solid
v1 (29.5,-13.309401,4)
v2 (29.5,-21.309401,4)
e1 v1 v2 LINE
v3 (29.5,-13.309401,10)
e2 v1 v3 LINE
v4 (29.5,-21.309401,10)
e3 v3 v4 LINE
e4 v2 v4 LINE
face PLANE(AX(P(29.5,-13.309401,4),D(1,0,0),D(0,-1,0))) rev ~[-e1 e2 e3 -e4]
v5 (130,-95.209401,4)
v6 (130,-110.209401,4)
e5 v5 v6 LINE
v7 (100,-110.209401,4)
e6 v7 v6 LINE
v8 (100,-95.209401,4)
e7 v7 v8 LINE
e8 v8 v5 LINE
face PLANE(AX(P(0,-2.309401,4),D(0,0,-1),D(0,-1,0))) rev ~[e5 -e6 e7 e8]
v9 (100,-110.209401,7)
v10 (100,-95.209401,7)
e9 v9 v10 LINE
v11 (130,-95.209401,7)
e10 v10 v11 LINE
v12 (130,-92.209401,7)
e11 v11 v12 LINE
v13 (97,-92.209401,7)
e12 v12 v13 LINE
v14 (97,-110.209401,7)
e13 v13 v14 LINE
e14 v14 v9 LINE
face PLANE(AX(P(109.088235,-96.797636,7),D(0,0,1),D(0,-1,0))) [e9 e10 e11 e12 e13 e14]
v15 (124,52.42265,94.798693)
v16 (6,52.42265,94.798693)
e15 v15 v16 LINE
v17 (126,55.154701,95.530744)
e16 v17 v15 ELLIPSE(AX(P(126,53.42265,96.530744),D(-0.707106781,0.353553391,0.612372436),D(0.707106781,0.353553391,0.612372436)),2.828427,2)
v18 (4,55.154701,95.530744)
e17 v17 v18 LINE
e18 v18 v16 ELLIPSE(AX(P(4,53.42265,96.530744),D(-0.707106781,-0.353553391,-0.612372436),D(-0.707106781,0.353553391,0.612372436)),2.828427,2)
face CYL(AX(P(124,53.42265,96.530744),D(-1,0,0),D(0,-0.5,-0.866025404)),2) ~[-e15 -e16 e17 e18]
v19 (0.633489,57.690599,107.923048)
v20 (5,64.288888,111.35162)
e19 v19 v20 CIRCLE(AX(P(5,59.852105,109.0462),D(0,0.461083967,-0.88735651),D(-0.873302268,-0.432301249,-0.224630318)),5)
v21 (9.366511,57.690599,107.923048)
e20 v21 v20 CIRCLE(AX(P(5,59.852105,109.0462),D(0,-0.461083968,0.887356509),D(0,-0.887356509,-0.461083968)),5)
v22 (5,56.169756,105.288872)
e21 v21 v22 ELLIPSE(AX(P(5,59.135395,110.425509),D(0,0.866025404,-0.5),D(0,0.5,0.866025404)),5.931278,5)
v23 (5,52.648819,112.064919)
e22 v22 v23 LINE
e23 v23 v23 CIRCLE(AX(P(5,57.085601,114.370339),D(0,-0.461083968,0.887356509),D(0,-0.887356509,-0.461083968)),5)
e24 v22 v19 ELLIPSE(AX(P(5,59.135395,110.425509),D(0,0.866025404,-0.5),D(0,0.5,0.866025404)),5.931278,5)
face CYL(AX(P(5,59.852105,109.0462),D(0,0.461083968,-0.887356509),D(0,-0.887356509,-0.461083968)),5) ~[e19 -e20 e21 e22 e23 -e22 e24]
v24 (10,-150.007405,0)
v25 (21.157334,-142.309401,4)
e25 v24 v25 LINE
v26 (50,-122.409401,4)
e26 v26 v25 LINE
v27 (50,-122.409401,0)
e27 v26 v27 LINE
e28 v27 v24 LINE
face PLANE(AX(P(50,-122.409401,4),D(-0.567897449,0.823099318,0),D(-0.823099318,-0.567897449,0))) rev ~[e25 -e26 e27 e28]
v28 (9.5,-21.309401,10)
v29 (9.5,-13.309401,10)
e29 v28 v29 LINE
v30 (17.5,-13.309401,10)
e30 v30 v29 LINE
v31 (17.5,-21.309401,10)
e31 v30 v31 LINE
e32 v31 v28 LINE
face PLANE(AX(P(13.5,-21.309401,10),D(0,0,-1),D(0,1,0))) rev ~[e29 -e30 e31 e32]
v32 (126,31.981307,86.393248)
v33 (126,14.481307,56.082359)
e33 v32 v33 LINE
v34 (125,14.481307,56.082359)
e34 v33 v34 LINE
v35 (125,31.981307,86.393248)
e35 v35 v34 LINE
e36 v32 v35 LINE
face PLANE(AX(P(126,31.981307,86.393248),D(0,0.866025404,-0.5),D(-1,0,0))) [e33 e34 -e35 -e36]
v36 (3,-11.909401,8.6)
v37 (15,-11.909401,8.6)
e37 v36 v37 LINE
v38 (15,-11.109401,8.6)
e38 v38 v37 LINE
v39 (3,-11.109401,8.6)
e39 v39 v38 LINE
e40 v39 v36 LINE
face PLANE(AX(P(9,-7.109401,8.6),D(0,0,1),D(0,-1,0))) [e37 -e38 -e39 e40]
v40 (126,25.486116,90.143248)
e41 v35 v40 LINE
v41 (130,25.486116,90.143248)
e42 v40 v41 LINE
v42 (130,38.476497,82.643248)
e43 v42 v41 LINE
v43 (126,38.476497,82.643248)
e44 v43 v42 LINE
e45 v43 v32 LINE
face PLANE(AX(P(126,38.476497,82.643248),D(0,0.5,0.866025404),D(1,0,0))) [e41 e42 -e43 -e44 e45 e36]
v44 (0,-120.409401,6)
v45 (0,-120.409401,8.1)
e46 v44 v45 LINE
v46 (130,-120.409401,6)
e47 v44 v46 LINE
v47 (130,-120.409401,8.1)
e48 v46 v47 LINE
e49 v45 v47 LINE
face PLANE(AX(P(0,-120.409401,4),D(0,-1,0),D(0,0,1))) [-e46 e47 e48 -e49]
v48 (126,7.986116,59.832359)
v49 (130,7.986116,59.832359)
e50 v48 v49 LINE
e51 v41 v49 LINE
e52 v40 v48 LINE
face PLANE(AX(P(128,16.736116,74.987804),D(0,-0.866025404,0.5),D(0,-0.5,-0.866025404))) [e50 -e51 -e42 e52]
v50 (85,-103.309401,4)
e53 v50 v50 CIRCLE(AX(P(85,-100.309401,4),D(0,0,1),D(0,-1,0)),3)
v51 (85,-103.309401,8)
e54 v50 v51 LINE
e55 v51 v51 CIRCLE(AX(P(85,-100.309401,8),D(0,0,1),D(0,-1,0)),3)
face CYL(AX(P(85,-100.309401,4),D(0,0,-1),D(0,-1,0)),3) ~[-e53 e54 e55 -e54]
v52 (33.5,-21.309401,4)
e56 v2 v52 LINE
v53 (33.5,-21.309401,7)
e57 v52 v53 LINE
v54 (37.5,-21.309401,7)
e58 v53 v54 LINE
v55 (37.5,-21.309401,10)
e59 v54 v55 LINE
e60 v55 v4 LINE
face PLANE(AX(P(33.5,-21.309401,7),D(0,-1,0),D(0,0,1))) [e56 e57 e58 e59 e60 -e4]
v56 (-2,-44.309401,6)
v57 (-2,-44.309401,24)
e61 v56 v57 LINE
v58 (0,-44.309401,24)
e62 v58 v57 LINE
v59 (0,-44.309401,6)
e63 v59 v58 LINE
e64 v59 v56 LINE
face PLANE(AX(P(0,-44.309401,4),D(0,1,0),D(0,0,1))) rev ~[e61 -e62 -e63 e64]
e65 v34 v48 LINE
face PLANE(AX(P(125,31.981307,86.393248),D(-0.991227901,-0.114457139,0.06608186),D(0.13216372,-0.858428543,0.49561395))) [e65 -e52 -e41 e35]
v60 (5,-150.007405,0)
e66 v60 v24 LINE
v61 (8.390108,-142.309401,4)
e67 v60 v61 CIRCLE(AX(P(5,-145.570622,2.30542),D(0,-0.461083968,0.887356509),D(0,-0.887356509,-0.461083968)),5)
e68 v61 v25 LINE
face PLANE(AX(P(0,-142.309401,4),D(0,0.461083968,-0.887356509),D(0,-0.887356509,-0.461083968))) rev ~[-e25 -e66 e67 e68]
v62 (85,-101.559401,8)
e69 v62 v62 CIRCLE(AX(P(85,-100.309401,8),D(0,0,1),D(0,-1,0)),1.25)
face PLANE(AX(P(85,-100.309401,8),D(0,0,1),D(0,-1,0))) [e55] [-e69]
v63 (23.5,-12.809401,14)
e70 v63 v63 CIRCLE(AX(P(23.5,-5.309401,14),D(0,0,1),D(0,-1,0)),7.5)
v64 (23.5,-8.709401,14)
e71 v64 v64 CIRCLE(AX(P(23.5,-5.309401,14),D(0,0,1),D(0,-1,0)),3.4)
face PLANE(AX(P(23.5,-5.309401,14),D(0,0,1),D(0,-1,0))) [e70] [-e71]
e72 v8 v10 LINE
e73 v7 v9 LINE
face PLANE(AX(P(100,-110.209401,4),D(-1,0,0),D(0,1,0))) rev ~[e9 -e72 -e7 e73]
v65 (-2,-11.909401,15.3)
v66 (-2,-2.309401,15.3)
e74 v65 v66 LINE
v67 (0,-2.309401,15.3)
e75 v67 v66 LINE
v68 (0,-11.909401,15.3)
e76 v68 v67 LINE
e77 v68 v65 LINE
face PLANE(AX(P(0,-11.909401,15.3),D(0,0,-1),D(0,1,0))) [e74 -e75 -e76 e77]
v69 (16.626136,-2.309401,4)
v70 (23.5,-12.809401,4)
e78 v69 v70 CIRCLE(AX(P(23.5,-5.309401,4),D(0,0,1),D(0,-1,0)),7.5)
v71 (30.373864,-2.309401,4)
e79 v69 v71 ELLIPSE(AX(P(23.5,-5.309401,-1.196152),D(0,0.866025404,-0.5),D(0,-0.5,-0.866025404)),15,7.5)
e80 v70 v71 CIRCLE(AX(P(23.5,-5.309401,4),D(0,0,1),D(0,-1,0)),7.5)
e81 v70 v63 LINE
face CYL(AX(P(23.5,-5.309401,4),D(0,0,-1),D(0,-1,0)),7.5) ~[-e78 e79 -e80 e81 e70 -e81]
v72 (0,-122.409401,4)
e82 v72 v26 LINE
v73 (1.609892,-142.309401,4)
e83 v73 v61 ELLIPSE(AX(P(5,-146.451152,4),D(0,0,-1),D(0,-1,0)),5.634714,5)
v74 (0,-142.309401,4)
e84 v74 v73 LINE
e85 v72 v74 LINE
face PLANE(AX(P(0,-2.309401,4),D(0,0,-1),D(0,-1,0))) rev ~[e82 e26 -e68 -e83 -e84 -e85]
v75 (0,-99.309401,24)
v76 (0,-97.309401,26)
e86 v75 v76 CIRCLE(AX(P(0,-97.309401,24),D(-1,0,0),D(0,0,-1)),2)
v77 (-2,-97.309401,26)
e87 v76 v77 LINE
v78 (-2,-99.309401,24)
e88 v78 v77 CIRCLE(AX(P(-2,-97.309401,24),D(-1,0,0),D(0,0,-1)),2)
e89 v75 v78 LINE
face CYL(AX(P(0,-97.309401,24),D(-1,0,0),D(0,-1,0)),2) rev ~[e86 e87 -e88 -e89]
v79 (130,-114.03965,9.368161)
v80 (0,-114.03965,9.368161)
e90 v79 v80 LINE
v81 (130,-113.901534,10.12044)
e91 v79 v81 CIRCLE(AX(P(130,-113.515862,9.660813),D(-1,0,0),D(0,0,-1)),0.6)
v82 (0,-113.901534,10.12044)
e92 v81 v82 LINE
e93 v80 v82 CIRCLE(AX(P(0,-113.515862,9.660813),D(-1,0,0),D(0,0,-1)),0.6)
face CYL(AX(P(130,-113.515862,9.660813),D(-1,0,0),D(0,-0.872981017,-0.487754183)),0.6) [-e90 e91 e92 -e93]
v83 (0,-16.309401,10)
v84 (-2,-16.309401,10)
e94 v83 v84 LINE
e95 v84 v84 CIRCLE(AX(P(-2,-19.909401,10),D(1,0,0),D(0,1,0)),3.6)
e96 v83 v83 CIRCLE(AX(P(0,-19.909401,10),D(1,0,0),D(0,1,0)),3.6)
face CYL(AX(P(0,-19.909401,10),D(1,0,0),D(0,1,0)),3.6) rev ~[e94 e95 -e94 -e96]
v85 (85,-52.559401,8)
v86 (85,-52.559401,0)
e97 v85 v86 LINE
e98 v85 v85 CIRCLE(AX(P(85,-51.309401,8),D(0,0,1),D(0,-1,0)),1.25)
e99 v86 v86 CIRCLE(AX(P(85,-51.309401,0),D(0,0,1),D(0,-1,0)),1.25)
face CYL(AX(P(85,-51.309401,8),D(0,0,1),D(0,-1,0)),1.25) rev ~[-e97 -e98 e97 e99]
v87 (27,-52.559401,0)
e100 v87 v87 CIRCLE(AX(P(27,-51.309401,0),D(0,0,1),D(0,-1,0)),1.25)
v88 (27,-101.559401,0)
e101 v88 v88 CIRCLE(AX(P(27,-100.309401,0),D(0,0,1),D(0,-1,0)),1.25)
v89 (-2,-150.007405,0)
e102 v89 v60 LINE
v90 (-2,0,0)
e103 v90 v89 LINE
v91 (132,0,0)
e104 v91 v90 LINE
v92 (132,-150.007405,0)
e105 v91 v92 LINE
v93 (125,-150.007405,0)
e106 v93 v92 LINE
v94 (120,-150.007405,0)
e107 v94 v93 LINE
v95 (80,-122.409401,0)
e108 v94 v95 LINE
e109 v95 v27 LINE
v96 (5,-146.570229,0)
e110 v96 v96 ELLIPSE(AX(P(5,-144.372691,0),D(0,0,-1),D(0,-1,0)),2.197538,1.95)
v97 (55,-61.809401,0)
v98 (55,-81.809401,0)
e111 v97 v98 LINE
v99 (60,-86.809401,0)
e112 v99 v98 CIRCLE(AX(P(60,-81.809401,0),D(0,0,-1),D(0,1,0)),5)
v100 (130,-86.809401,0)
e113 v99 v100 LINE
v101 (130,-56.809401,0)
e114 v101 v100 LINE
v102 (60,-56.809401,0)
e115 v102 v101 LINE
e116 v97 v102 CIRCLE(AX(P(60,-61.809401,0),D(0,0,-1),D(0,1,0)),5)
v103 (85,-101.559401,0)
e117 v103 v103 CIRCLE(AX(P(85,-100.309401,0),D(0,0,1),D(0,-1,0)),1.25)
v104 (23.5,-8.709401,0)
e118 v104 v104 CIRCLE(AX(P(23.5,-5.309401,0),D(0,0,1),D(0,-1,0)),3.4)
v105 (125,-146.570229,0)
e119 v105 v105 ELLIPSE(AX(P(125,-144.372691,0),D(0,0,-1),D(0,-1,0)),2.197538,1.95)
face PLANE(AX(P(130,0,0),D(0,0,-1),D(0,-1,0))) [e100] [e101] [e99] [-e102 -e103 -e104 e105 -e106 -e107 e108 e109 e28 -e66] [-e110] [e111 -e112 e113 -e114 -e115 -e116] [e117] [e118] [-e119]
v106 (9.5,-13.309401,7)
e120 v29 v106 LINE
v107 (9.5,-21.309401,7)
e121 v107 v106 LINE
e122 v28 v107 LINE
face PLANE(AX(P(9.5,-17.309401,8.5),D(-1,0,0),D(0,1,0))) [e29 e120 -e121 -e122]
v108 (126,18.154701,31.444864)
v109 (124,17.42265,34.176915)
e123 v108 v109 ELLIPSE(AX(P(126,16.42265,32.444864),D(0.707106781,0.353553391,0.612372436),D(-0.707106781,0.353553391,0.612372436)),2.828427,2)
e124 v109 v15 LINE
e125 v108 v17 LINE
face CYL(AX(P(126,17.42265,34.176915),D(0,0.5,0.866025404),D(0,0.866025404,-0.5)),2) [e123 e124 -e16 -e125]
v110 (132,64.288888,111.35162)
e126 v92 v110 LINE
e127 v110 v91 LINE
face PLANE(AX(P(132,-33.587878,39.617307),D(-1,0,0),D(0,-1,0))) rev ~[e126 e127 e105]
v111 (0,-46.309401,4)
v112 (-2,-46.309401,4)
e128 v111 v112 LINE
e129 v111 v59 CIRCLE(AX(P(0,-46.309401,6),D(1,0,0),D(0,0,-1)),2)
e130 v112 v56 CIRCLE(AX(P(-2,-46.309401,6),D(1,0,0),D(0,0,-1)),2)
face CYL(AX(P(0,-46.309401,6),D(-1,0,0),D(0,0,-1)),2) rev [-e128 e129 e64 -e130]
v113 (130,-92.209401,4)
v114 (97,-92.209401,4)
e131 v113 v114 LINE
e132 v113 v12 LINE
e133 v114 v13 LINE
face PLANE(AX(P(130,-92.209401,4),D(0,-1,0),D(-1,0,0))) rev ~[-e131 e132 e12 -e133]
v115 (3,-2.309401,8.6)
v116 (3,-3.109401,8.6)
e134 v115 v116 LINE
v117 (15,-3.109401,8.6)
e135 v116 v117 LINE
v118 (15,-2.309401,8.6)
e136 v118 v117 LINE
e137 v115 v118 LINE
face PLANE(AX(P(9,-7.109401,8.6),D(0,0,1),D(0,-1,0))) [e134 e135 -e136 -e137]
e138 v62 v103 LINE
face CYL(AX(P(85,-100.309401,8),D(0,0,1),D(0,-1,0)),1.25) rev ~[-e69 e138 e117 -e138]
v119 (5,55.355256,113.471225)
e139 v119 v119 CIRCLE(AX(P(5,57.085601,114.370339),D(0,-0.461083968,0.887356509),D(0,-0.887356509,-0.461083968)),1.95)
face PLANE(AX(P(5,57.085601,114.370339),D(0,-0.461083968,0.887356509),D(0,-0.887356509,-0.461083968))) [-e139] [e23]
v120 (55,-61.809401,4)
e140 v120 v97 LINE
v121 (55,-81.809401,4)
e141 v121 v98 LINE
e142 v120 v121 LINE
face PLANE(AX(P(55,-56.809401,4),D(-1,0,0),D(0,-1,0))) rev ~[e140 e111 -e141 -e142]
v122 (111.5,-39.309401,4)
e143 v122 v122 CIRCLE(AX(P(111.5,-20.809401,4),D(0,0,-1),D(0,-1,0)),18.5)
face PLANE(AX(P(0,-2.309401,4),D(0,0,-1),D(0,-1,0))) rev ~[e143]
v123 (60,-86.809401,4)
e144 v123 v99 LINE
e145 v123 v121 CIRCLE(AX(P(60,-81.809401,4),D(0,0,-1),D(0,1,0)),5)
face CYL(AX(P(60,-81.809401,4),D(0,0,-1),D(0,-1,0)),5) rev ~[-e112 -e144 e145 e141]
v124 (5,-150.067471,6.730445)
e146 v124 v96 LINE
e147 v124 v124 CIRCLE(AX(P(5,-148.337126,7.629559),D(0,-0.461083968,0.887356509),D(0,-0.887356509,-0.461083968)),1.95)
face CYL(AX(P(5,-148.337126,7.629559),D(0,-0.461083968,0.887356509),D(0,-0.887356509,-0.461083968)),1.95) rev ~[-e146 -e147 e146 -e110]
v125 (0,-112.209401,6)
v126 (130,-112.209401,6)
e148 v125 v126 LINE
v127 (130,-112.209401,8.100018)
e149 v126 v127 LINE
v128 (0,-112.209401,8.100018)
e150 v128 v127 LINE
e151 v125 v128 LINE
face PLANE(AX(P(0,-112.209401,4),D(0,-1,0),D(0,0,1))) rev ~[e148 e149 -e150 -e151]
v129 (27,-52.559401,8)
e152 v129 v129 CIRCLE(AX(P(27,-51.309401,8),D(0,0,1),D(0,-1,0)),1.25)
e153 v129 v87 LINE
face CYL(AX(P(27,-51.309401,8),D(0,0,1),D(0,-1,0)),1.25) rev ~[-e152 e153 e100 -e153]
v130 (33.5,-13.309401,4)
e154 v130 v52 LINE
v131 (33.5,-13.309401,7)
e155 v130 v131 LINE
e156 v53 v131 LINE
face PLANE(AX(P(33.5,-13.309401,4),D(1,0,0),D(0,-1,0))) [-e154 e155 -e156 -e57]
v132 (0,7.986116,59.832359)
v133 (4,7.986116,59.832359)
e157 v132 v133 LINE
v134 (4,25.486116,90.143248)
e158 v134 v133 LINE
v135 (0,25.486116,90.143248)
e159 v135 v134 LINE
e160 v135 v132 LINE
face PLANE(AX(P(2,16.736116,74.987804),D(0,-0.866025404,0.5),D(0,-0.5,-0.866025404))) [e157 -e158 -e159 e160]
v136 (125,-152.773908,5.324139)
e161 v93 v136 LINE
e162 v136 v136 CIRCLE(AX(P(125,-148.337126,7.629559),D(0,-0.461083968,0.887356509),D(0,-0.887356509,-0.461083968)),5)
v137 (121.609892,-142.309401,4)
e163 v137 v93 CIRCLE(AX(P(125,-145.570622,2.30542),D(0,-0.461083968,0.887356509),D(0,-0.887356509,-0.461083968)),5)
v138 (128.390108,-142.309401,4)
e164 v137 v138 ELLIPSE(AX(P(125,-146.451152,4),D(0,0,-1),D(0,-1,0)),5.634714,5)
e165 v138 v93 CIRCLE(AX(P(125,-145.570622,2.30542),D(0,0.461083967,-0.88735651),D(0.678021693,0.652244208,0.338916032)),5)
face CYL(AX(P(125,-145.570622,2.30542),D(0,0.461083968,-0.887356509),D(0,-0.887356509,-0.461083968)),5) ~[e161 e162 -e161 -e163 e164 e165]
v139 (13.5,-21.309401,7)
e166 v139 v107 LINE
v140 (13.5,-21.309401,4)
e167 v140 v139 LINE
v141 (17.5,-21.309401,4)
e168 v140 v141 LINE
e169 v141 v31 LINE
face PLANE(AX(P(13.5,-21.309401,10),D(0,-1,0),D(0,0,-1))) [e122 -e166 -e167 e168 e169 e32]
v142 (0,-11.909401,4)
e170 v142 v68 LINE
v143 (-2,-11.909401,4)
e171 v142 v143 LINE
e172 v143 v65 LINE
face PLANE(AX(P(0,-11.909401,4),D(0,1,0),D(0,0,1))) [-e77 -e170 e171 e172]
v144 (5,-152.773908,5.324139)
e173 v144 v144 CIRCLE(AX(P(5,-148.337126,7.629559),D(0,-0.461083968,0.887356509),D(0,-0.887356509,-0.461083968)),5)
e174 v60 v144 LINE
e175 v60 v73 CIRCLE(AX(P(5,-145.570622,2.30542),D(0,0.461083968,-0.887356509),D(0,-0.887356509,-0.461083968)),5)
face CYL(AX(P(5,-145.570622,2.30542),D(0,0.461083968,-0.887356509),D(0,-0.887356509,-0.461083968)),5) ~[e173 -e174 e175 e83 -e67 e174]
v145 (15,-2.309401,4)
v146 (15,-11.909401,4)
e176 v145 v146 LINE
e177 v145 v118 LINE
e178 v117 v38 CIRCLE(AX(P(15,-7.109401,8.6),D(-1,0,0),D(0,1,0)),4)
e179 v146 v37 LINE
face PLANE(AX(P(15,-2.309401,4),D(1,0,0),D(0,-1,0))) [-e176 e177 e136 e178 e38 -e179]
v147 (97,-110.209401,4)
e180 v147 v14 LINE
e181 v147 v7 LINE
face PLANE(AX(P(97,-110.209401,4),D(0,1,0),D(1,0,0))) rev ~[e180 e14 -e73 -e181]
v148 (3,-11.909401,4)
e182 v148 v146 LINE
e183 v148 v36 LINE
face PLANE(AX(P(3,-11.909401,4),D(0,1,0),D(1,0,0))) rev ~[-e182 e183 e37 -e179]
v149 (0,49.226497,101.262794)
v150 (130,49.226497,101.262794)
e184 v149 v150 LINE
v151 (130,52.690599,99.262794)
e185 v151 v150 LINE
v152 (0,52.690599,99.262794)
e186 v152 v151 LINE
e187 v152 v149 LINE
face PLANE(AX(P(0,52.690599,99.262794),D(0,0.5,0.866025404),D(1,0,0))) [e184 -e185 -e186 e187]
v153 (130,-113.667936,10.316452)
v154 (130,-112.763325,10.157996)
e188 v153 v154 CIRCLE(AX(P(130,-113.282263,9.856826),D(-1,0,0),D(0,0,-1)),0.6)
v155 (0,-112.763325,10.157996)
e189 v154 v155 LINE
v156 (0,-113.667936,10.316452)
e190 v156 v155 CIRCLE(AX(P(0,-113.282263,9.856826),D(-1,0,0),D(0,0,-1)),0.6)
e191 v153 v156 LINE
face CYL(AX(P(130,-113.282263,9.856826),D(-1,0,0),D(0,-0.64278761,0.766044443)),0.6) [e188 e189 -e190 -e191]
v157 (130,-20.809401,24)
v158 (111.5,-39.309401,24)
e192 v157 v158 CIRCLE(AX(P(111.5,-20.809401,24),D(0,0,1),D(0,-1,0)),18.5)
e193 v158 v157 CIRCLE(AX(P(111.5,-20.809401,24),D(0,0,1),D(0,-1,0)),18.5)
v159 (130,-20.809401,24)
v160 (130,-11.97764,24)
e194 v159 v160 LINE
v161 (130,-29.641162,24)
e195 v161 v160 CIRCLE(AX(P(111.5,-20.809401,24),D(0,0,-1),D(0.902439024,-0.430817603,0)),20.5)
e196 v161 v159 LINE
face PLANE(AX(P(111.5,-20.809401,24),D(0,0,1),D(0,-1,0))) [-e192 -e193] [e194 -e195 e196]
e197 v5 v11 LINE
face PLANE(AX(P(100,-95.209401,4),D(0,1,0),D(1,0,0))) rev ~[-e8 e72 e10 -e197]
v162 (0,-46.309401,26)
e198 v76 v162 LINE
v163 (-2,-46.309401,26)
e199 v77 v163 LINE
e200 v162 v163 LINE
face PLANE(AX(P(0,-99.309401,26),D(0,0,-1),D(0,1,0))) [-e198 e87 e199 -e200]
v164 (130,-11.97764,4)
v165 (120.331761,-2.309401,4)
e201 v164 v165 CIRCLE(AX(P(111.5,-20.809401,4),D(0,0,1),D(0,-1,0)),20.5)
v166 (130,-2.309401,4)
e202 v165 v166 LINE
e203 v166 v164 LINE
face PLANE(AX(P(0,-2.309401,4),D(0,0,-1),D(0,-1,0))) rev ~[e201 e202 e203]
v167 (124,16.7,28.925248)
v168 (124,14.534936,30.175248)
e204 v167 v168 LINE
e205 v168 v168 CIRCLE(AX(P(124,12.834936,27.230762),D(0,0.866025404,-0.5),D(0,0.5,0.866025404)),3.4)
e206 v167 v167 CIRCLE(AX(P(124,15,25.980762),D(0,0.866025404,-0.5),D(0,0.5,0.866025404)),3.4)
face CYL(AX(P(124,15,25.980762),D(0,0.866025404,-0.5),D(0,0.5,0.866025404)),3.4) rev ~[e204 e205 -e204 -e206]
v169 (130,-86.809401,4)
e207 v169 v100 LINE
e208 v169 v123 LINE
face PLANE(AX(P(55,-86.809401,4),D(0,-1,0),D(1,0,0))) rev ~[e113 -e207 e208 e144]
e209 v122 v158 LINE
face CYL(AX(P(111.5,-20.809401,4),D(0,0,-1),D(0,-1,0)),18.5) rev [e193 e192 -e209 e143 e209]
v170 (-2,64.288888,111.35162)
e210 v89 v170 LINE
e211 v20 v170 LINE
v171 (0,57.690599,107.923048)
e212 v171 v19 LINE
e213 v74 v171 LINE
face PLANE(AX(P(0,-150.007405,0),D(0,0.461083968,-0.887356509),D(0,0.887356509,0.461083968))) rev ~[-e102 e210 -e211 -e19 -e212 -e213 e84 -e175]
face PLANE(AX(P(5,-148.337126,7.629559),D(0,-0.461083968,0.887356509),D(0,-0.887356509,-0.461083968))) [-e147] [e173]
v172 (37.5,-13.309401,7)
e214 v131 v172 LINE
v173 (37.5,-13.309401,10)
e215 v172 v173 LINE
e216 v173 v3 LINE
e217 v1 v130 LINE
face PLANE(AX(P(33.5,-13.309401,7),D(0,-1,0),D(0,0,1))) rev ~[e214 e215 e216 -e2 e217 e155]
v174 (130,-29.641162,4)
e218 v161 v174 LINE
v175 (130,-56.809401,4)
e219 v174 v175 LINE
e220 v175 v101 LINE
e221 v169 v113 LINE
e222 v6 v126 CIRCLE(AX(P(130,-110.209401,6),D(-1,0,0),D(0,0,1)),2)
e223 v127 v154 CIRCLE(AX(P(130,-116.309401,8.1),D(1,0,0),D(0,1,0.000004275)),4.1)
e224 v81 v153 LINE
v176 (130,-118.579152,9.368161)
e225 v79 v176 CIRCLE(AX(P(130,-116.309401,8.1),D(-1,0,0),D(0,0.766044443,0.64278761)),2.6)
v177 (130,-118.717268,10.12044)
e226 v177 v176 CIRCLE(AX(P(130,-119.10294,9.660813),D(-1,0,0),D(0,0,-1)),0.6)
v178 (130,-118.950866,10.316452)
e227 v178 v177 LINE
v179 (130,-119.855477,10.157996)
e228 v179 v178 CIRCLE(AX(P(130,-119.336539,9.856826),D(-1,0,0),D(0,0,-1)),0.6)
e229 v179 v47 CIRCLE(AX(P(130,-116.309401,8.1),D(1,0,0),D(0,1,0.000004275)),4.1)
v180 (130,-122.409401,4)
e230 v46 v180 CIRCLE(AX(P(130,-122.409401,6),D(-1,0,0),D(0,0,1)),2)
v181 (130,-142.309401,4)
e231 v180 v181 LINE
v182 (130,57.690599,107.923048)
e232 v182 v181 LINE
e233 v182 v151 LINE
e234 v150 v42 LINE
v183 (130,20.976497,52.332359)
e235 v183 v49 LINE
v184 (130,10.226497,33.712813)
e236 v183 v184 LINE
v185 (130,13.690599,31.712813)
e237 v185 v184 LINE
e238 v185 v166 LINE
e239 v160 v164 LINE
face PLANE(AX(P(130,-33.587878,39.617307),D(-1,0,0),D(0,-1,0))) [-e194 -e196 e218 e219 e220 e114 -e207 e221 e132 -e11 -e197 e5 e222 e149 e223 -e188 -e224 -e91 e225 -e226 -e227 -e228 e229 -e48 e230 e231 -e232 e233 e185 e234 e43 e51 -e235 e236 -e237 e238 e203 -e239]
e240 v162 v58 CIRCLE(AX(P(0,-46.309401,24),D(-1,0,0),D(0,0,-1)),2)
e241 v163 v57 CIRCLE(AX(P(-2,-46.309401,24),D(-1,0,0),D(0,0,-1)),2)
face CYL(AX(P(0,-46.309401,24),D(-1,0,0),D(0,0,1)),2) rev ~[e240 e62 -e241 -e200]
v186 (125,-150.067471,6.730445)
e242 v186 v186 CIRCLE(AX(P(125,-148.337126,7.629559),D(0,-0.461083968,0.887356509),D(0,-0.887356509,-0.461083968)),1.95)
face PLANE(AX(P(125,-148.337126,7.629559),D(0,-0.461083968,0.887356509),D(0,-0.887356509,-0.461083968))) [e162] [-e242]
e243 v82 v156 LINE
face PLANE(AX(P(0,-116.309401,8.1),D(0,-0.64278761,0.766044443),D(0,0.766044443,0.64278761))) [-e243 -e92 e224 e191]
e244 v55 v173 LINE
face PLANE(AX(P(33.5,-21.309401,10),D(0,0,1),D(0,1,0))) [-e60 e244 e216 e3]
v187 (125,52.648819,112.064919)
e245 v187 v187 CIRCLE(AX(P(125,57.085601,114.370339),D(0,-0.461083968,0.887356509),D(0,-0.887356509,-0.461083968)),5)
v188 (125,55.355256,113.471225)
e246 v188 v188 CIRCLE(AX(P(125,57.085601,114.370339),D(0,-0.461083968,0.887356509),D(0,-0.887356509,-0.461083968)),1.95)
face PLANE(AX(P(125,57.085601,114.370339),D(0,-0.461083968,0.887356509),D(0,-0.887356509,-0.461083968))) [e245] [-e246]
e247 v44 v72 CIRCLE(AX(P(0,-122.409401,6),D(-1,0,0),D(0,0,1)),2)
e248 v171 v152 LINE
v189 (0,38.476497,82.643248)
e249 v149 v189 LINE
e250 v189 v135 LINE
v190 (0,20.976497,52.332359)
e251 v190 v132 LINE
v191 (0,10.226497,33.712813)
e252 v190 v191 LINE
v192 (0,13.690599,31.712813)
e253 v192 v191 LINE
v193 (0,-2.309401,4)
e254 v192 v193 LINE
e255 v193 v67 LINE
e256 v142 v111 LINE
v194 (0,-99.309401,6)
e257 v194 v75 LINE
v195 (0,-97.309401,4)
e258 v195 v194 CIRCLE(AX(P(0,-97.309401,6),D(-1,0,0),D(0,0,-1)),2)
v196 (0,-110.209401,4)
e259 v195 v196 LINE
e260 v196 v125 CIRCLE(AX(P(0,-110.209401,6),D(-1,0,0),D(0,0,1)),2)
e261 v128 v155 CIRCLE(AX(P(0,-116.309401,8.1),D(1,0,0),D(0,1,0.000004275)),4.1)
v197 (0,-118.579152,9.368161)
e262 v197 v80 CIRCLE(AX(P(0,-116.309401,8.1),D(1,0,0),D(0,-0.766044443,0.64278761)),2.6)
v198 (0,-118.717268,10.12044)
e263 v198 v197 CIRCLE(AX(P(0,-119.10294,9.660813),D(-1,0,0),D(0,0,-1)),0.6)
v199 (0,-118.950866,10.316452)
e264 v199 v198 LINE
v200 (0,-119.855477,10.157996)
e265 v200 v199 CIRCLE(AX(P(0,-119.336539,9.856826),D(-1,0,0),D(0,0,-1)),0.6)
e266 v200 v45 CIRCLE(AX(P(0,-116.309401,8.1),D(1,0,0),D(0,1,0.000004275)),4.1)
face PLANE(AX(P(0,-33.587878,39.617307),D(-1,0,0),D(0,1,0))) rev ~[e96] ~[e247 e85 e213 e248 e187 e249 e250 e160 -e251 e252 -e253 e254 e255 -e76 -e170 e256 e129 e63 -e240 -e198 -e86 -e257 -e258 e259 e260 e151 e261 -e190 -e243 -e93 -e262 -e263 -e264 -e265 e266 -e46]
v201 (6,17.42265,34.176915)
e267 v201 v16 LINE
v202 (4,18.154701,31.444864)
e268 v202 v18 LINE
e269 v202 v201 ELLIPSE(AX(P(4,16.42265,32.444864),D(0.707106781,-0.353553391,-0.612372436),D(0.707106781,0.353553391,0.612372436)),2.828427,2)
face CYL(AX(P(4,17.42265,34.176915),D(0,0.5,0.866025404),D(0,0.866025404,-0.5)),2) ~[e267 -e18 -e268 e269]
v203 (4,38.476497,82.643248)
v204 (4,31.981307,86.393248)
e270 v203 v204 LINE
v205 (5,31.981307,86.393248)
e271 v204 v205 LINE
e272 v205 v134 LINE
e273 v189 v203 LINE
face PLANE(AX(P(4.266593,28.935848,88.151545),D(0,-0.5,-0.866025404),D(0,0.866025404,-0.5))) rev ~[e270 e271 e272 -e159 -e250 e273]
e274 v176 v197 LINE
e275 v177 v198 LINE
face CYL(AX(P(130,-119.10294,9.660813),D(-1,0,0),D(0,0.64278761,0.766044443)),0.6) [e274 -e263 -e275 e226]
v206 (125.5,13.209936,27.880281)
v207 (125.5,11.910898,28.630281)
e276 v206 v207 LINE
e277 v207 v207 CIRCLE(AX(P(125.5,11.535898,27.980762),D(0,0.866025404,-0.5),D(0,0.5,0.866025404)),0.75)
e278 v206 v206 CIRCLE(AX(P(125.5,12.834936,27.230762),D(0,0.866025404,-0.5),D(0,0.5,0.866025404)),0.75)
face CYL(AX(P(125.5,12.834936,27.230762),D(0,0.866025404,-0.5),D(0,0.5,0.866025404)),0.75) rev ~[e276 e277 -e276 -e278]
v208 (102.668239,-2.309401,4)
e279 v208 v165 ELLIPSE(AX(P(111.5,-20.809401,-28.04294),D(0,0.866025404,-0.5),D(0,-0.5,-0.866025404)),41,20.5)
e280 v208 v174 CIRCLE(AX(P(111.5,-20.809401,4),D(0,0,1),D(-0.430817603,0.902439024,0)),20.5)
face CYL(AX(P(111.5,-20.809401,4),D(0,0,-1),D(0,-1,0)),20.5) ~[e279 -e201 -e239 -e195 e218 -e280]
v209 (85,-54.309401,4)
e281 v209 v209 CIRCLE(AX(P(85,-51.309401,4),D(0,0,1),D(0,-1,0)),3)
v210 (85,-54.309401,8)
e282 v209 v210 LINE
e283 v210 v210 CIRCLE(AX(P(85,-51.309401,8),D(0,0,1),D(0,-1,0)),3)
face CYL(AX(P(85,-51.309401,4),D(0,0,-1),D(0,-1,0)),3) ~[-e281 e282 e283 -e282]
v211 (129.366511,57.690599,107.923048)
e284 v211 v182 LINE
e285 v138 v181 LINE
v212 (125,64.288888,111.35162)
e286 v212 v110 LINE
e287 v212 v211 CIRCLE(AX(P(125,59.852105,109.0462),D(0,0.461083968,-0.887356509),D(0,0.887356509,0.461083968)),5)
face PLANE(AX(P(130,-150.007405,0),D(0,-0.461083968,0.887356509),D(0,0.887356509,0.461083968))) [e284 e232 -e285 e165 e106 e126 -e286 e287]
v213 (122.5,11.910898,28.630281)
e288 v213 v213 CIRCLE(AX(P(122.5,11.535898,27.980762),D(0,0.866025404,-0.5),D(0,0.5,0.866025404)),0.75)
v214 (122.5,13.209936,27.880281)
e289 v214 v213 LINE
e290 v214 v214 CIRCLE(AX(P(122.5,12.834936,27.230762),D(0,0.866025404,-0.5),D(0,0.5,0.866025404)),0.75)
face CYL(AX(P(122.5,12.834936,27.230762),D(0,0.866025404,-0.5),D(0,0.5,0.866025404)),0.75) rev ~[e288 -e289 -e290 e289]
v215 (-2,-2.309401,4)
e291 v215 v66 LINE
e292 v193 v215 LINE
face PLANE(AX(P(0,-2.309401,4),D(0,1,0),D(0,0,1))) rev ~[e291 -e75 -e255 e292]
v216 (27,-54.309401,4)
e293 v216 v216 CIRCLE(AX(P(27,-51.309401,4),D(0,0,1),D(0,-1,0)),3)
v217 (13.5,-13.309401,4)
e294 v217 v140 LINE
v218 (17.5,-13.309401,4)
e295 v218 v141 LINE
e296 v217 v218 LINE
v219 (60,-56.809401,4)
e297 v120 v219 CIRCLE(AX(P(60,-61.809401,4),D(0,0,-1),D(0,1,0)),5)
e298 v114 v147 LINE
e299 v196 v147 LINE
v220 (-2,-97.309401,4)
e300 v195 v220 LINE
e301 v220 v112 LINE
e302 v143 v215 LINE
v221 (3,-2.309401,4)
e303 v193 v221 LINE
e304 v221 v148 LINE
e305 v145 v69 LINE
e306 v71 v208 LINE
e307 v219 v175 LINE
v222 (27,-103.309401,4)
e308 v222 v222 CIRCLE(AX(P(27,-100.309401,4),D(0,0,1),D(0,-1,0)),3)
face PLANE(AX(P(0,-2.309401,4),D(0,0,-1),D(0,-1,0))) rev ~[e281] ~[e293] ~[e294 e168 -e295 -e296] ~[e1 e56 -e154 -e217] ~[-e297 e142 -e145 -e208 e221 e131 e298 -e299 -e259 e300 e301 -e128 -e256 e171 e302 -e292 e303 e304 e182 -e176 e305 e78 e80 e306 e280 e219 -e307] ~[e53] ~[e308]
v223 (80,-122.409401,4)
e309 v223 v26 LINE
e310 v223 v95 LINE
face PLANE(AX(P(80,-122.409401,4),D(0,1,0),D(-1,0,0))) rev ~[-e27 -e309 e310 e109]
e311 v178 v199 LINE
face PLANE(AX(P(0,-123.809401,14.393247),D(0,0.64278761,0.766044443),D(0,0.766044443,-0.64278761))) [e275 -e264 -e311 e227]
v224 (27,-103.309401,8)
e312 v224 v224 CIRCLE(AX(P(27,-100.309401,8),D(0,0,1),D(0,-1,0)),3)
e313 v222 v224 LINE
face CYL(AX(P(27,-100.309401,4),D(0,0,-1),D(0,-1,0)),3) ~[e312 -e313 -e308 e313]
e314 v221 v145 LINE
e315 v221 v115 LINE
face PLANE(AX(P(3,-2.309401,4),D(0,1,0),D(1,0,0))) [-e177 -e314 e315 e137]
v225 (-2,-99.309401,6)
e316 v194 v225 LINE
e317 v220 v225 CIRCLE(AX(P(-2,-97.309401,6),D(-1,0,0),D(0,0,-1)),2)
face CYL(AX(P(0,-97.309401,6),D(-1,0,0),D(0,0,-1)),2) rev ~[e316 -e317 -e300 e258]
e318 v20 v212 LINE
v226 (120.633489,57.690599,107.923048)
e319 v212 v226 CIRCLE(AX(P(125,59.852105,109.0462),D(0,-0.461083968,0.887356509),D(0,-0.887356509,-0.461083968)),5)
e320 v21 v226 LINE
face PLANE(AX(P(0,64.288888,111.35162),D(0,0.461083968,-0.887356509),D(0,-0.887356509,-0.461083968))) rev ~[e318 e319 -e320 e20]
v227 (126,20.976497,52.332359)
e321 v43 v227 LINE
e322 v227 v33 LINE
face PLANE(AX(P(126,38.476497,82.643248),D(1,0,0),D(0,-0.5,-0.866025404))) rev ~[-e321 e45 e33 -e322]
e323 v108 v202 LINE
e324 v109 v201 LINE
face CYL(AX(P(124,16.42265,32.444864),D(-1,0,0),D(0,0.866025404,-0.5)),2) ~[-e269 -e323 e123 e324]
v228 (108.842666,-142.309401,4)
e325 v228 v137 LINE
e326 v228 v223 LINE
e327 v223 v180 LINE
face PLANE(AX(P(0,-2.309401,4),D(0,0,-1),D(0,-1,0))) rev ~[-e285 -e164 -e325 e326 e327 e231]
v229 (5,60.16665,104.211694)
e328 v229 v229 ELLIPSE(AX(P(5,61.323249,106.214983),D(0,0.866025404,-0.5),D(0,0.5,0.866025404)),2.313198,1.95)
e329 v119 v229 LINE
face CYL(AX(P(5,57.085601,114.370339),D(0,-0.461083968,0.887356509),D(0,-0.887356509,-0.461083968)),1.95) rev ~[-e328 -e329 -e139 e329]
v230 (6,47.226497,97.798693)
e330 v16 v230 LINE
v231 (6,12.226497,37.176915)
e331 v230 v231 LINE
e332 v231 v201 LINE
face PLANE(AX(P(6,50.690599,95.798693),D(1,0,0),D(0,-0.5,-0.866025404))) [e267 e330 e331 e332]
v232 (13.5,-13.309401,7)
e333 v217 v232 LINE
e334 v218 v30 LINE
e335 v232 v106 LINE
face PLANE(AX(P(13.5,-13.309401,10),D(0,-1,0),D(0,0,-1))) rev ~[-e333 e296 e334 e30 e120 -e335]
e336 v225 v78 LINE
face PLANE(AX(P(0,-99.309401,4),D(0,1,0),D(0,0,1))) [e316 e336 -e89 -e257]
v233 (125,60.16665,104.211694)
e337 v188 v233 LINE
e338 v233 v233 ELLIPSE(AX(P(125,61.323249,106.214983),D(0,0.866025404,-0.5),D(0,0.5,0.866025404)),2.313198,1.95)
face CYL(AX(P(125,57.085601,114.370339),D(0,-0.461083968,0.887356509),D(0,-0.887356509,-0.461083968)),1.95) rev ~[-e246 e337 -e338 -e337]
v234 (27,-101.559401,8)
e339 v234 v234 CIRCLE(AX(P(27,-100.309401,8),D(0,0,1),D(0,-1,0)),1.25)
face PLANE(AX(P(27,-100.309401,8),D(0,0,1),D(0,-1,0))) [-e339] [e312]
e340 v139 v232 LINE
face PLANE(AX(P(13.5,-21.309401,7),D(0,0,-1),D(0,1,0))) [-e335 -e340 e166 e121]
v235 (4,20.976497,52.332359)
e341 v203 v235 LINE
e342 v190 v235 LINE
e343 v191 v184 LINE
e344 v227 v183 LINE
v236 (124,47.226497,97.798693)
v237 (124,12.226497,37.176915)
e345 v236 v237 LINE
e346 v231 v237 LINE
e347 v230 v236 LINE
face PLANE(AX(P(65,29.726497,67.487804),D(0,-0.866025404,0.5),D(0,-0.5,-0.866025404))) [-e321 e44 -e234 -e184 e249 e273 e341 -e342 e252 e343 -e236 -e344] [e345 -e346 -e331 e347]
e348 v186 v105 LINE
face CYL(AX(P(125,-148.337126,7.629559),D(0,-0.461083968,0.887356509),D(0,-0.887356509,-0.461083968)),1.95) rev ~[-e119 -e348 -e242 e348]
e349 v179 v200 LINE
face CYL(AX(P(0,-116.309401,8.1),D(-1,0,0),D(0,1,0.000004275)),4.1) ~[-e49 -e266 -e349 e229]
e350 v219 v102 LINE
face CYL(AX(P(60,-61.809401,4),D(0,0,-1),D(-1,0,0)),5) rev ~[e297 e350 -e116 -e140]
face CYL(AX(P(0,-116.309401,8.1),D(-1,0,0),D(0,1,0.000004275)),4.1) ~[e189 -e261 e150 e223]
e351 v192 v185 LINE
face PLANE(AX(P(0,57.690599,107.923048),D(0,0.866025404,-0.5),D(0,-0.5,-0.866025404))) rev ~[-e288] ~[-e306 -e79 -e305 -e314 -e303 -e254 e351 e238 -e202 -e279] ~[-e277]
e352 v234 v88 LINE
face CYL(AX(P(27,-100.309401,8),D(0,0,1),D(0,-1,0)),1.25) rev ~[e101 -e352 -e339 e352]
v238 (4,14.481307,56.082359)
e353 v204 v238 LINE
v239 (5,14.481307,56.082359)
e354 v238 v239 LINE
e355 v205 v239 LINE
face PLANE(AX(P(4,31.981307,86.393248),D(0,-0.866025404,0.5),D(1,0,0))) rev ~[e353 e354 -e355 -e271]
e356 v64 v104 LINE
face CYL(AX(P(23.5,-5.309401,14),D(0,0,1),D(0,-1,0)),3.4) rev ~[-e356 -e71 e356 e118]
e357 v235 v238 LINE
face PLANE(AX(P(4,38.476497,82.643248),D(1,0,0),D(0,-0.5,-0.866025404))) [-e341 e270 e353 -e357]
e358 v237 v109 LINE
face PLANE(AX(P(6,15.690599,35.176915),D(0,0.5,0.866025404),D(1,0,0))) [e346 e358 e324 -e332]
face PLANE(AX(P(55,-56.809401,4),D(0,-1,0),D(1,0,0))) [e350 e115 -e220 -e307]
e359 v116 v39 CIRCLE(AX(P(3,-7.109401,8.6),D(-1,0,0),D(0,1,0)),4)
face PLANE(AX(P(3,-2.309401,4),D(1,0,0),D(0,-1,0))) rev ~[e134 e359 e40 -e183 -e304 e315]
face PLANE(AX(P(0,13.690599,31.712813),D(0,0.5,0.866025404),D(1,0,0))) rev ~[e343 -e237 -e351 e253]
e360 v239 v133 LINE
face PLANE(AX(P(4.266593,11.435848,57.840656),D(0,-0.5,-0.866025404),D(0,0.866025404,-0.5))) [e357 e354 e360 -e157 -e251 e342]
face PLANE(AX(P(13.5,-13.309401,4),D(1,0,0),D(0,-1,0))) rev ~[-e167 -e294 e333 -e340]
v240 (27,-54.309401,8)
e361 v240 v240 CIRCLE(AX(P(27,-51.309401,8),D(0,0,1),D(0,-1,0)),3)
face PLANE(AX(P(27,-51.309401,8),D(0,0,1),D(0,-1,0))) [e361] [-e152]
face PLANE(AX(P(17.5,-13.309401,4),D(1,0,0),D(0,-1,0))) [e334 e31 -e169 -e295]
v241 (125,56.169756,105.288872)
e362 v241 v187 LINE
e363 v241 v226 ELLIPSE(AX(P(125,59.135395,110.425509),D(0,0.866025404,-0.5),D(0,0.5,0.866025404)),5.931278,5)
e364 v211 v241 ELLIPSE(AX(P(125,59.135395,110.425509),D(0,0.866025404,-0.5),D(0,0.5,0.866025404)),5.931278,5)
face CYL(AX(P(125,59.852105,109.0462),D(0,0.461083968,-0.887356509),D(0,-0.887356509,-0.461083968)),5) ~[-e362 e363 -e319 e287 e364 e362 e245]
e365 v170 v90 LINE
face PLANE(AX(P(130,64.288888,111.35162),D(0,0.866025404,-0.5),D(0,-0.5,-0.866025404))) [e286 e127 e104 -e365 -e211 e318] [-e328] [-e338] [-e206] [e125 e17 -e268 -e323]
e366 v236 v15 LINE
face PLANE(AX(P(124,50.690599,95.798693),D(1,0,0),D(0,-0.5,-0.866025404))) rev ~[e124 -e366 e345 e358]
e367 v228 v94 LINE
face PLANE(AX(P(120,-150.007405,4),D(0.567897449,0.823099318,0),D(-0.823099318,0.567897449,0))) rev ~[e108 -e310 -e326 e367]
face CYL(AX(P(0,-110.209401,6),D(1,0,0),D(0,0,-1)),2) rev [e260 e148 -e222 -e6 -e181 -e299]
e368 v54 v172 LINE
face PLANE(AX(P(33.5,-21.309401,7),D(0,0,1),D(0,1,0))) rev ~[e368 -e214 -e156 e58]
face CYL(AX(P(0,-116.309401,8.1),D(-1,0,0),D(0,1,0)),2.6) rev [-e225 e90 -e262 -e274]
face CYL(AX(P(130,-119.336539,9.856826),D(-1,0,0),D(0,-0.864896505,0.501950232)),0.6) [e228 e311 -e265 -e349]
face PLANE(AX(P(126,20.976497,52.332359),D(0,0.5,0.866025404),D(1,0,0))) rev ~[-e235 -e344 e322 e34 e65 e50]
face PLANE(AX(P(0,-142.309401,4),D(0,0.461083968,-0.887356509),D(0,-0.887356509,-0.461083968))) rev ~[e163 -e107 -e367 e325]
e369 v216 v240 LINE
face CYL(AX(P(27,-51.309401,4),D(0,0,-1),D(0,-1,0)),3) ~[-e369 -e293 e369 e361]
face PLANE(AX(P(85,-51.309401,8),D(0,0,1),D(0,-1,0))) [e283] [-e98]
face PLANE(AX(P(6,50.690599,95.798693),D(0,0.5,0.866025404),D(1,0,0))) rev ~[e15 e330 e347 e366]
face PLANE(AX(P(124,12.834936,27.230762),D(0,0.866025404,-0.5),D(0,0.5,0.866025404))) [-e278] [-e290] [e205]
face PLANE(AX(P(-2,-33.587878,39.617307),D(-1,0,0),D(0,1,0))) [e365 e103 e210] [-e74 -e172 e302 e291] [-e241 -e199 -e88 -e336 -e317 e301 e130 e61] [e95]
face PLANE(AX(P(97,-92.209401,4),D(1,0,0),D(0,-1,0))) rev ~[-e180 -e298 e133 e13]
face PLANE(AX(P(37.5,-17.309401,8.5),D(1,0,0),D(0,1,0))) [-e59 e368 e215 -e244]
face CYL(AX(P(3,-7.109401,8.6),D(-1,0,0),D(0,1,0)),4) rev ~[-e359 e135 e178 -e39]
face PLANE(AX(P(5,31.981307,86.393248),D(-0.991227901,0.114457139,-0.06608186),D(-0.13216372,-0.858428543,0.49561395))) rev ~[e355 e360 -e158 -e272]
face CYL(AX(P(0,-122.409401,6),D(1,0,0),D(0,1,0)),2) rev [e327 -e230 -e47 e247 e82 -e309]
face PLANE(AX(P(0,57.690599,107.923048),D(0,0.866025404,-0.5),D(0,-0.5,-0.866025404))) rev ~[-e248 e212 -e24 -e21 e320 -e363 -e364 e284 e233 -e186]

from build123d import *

# Parameters (mm, degrees)
PAD_DEPTH         = 130
SKETCH001_R       = 5
PAD001_DEPTH      = 6
PAD001_DEPTH_BACK = 6
POCKET_DEPTH      = 130.001
SKETCH003_R       = 1.95
POCKET001_DEPTH   = 104.8095847369
PAD002_DEPTH      = 2
PAD003_DEPTH      = 2
SKETCH006_R       = 2.6
PAD004_DEPTH      = 130
POCKET002_DEPTH   = 130
FILLET_R          = 0.6
SKETCH008_W       = 70
SKETCH008_H       = 118
POCKET003_DEPTH   = 59.6768099413
SKETCH009_W       = 78
SKETCH009_H       = 130
SKETCH009_W_2     = 70
SKETCH009_H_2     = 118
PAD005_DEPTH      = 4
FILLET001_R       = 2
SKETCH010_W       = 35
SKETCH010_H       = 4
PAD006_DEPTH      = 15
PAD007_DEPTH      = 35
SKETCH012_R       = 3
SKETCH012_R_2     = 1.25
PAD008_DEPTH      = 4
SKETCH013_W       = 30
SKETCH013_H       = 75
POCKET004_DEPTH   = 4
FILLET002_R       = 5
SKETCH014_W       = 55
SKETCH014_H       = 22
POCKET005_DEPTH   = 2
FILLET003_R       = 2
FILLET004_R       = 2
SKETCH015_W       = 9.6
SKETCH015_H       = 11.3
POCKET006_DEPTH   = 2
SKETCH016_W       = 9.6
SKETCH016_H       = 12
PAD009_DEPTH      = 4.6
POCKET007_DEPTH   = 12
SKETCH018_R       = 3.6
POCKET008_DEPTH   = 2
SKETCH019_R       = 3.4
POCKET009_DEPTH   = 2.5
SKETCH020_R       = 0.75
POCKET010_DEPTH   = 1.5
SKETCH021_R       = 20.5
SKETCH021_R_2     = 18.5
PAD010_DEPTH      = 20
SKETCH022_R       = 7.5
PAD011_DEPTH      = 10
SKETCH023_R       = 3.4
POCKET011_DEPTH   = 14
POCKET012_DEPTH   = 4
SKETCH025_W       = 8
SKETCH025_H       = 4
PAD012_DEPTH      = 6
SKETCH026_W       = 8
SKETCH026_H       = 3
PAD013_DEPTH      = 4
SKETCH027_W       = 8
SKETCH027_H       = 3
PAD014_DEPTH      = 4
PAD015_DEPTH      = 3
SKETCH029_W       = 55
SKETCH029_H       = 64
POCKET013_DEPTH   = 5
SKETCH030_R       = 3
PAD016_DEPTH      = 4
SKETCH031_R       = 1.25
POCKET014_DEPTH   = 8.001


with BuildPart() as part:
    # Sketch → Pad (new body)
    with BuildSketch(Plane.YZ):
        Polygon((0, 0), (64.288887714, 111.3516198827), (57.6905989232, 107.9230484541), (-2.3094010768, 4), (-142.3094010768, 4), (-150.007404666, 0), align=None)
    extrude(amount=PAD_DEPTH)

    # Sketch001 (on Face3 of Pad) → Pad001 (new body, two sides)
    with BuildSketch(Plane(origin=(0, -31.8913379999, 61.3749085968), x_dir=(0, -0.8873565094, -0.4610839676), z_dir=(0, -0.4610839676, 0.8873565094))) as pad001_sk:
        with Locations((-103.3896096926, 125)):
            Circle(SKETCH001_R)
        with Locations((-103.3896096926, 5)):
            Circle(SKETCH001_R)
        with Locations((128.1100469909, 5)):
            Circle(SKETCH001_R)
        with Locations((128.1100469909, 125)):
            Circle(SKETCH001_R)
    extrude(amount=PAD001_DEPTH)
    extrude(pad001_sk.sketch, amount=-PAD001_DEPTH_BACK)

    # Sketch002 (on Face10 of Pad001) → Pocket (cut, through all)
    with BuildSketch(Plane.YZ.offset(130)):
        Polygon((0, 0), (83.7157890325, 145.0000000001), (83.7157890325, -144.9999999999), (-167.4315780651, 0), align=None)
    extrude(amount=-POCKET_DEPTH, mode=Mode.SUBTRACT)

    # Sketch003 (on Face32 of Pocket) → Pocket001 (cut, through all)
    with BuildSketch(Plane(origin=(0, -34.6578418056, 66.6990476533), x_dir=(0, -0.8873565094, -0.4610839676), z_dir=(0, -0.4610839676, 0.8873565094))):
        with Locations((128.1100469909, 125)):
            Circle(SKETCH003_R)
        with Locations((128.1100469909, 5)):
            Circle(SKETCH003_R)
        with Locations((-103.3896096926, 125)):
            Circle(SKETCH003_R)
        with Locations((-103.3896096926, 5)):
            Circle(SKETCH003_R)
    extrude(amount=-POCKET001_DEPTH, mode=Mode.SUBTRACT)

    # Sketch004 (on Face5 of Pocket001) → Pad002 (new body)
    with BuildSketch(Plane(origin=(0, 0, 0), x_dir=(0, 1, 0), z_dir=(-1, 0, 0))):
        Polygon((-150.007404666, 0), (64.288887714, -111.3516198827), (0, 0), align=None)
    extrude(amount=PAD002_DEPTH)

    # Sketch005 (on Face8 of Pad002) → Pad003 (new body)
    with BuildSketch(Plane.YZ.offset(130)):
        Polygon((64.288887714, 111.3516198827), (0, 0), (-150.007404666, 0), align=None)
    extrude(amount=PAD003_DEPTH)

    # Sketch006 (on Face27 of Pad003) → Pad004 (new body)
    with BuildSketch(Plane.YZ):
        with BuildLine():
            ThreePointArc((-112.2094010768, 8.1000175291), (-116.3094098413, 12.2), (-120.4094010768, 8.1))
            Line((-120.4094010768, 4), (-120.4094010768, 8.1))
            Line((-120.4094010768, 4), (-112.2094010768, 4))
            Line((-112.2094010768, 4), (-112.2094010768, 8.1000175291))
        make_face()
        with Locations((-116.3094010768, 8.1)):
            Circle(SKETCH006_R, mode=Mode.SUBTRACT)
    extrude(amount=PAD004_DEPTH)

    # Sketch007 (on Face27 of Pad004) → Pocket002 (cut)
    with BuildSketch(Plane.YZ):
        Polygon((-116.3094010768, 8.1), (-108.8094010768, 14.3932472338), (-123.8094010768, 14.3932472338), align=None)
    extrude(amount=POCKET002_DEPTH, mode=Mode.SUBTRACT)

    # Fillet
    fillet_edges = [part.edges().sort_by_distance(p)[0] for p in [
        (65, -113.168619, 10.735429),
        (65, -114.317686, 9.771248),
        (65, -118.301117, 9.771248),
        (65, -119.450183, 10.735429),
    ]]
    fillet(fillet_edges, radius=FILLET_R)

    # Sketch008 (on Face37 of Fillet) → Pocket003 (cut, through all)
    with BuildSketch(Plane(origin=(0, -3.4641016151, 2), x_dir=(0, -0.5, -0.8660254038), z_dir=(0, -0.8660254038, 0.5))):
        with Locations((-73.3094010768, 65)):
            Rectangle(SKETCH008_W, SKETCH008_H)
    extrude(amount=-POCKET003_DEPTH, mode=Mode.SUBTRACT)

    # Sketch009 (on Face37 of Pocket003) → Pad005 (new body)
    with BuildSketch(Plane(origin=(0, -3.4641016151, 2), x_dir=(0, -0.5, -0.8660254038), z_dir=(0, -0.8660254038, 0.5))):
        with Locations((-73.3094010768, 65)):
            Rectangle(SKETCH009_W, SKETCH009_H)
        with Locations((-73.3094010768, 65)):
            Rectangle(SKETCH009_W_2, SKETCH009_H_2, mode=Mode.SUBTRACT)
    extrude(amount=PAD005_DEPTH)

    # Fillet001
    fillet001_edges = [part.edges().sort_by_distance(p)[0] for p in [
        (6, 36.654701, 63.487804),
        (65, 19.154701, 33.176915),
        (124, 36.654701, 63.487804),
        (65, 54.154701, 93.798693),
    ]]
    fillet(fillet001_edges, radius=FILLET001_R)

    # Sketch010 (on Face60 of Fillet001) → Pad006 (new body)
    with BuildSketch(Plane(origin=(0, -6.9282032303, 4), x_dir=(0, -0.5, -0.8660254038), z_dir=(0, -0.8660254038, 0.5))):
        with Locations((-73.3094010768, 2)):
            Rectangle(SKETCH010_W, SKETCH010_H)
        with Locations((-73.3094010768, 128)):
            Rectangle(SKETCH010_W, SKETCH010_H)
    extrude(amount=PAD006_DEPTH)

    # Sketch011 (on Face64 of Pad006) → Pad007 (new body)
    with BuildSketch(Plane(origin=(0, 45.4047005384, 78.6432482349), x_dir=(0, -0.8660254038, 0.5), z_dir=(0, 0.5, 0.8660254038))):
        Polygon((23, 4), (15.5, 4), (15.5, 5), align=None)
        Polygon((23, 126), (15.5, 126), (15.5, 125), align=None)
    extrude(amount=-PAD007_DEPTH)

    # Sketch012 (on Face69 of Pad007) → Pad008 (new body)
    with BuildSketch(Plane(origin=(0, 0, 4), x_dir=(0, -1, 0), z_dir=(0, 0, 1))):
        with Locations((96.3094010768, 22)):
            Circle(SKETCH012_R)
        with Locations((96.3094010768, 22)):
            Circle(SKETCH012_R_2, mode=Mode.SUBTRACT)
        with Locations((96.3094010768, 80)):
            Circle(SKETCH012_R)
        with Locations((96.3094010768, 80)):
            Circle(SKETCH012_R_2, mode=Mode.SUBTRACT)
        with Locations((47.3094010768, 80)):
            Circle(SKETCH012_R)
        with Locations((47.3094010768, 80)):
            Circle(SKETCH012_R_2, mode=Mode.SUBTRACT)
        with Locations((47.3094010768, 22)):
            Circle(SKETCH012_R)
        with Locations((47.3094010768, 22)):
            Circle(SKETCH012_R_2, mode=Mode.SUBTRACT)
    extrude(amount=PAD008_DEPTH)

    # Sketch013 (on Face69 of Pad008) → Pocket004 (cut)
    with BuildSketch(Plane(origin=(0, 0, 4), x_dir=(0, -1, 0), z_dir=(0, 0, 1))):
        with Locations((71.8094010768, 92.5)):
            Rectangle(SKETCH013_W, SKETCH013_H)
    extrude(amount=-POCKET004_DEPTH, mode=Mode.SUBTRACT)

    # Fillet002
    fillet002_edges = [part.edges().sort_by_distance(p)[0] for p in [
        (55, -56.809401, 2),
        (55, -86.809401, 2),
    ]]
    fillet(fillet002_edges, radius=FILLET002_R)

    # Sketch014 (on Face37 of Fillet002) → Pocket005 (cut)
    with BuildSketch(Plane.YZ):
        with Locations((-71.8094010768, 15)):
            Rectangle(SKETCH014_W, SKETCH014_H)
    extrude(amount=-POCKET005_DEPTH, mode=Mode.SUBTRACT)

    # Fillet003
    fillet003_edges = [part.edges().sort_by_distance(p)[0] for p in [
        (-1, -99.309401, 26),
        (-1, -44.309401, 4),
        (-1, -99.309401, 4),
        (-1, -44.309401, 26),
    ]]
    fillet(fillet003_edges, radius=FILLET003_R)

    # Fillet004
    fillet004_edges = [part.edges().sort_by_distance(p)[0] for p in [
        (65, -112.209401, 4),
        (65, -120.409401, 4),
    ]]
    fillet(fillet004_edges, radius=FILLET004_R)

    # Sketch015 (on Face2 of Fillet004) → Pocket006 (cut)
    with BuildSketch(Plane.YZ):
        with Locations((-7.1094010768, 9.65)):
            Rectangle(SKETCH015_W, SKETCH015_H)
    extrude(amount=-POCKET006_DEPTH, mode=Mode.SUBTRACT)

    # Sketch016 (on Face1 of Pocket006) → Pad009 (new body)
    with BuildSketch(Plane(origin=(0, 0, 4), x_dir=(0, -1, 0), z_dir=(0, 0, 1))):
        with Locations((7.1094010768, 9)):
            Rectangle(SKETCH016_W, SKETCH016_H)
    extrude(amount=PAD009_DEPTH)

    # Sketch017 (on Face2 of Pad009) → Pocket007 (cut)
    with BuildSketch(Plane(origin=(3, 0, 0), x_dir=(0, 1, 0), z_dir=(-1, 0, 0))):
        with BuildLine():
            ThreePointArc((-3.1094010768, -8.6), (-7.1094010768, -4.6), (-11.1094010768, -8.6))
            Line((-11.1094010768, -8.6), (-3.1094010768, -8.6))
        make_face()
    extrude(amount=-POCKET007_DEPTH, mode=Mode.SUBTRACT)

    # Sketch018 (on Face18 of Pocket007) → Pocket008 (cut)
    with BuildSketch(Plane.YZ):
        with Locations((-19.9094010768, 10)):
            Circle(SKETCH018_R)
    extrude(amount=-POCKET008_DEPTH, mode=Mode.SUBTRACT)

    # Sketch019 (on Face91 of Pocket008) → Pocket009 (cut)
    with BuildSketch(Plane(origin=(0, 0, 0), x_dir=(0, 0.5, 0.8660254038), z_dir=(0, 0.8660254038, -0.5))):
        with Locations((30, 124)):
            Circle(SKETCH019_R)
    extrude(amount=-POCKET009_DEPTH, mode=Mode.SUBTRACT)

    # Sketch020 (on Face145 of Pocket009) → Pocket010 (cut)
    with BuildSketch(Plane(origin=(0, -2.1650635095, 1.25), x_dir=(0, 0.5, 0.8660254038), z_dir=(0, 0.8660254038, -0.5))):
        with Locations((30, 125.5)):
            Circle(SKETCH020_R)
        with Locations((30, 122.5)):
            Circle(SKETCH020_R)
    extrude(amount=-POCKET010_DEPTH, mode=Mode.SUBTRACT)

    # Sketch021 (on Face6 of Pocket010) → Pad010 (new body)
    with BuildSketch(Plane(origin=(0, 0, 4), x_dir=(0, -1, 0), z_dir=(0, 0, 1))):
        with Locations((20.8094010768, 111.5)):
            Circle(SKETCH021_R)
        with Locations((20.8094010768, 111.5)):
            Circle(SKETCH021_R_2, mode=Mode.SUBTRACT)
    extrude(amount=PAD010_DEPTH)

    # Sketch022 (on Face6 of Pad010) → Pad011 (new body)
    with BuildSketch(Plane(origin=(0, 0, 4), x_dir=(0, -1, 0), z_dir=(0, 0, 1))):
        with Locations((5.3094010768, 23.5)):
            Circle(SKETCH022_R)
    extrude(amount=PAD011_DEPTH)

    # Sketch023 (on Face45 of Pad011) → Pocket011 (cut)
    with BuildSketch(Plane(origin=(0, 0, 14), x_dir=(0, -1, 0), z_dir=(0, 0, 1))):
        with Locations((5.3094010768, 23.5)):
            Circle(SKETCH023_R)
    extrude(amount=-POCKET011_DEPTH, mode=Mode.SUBTRACT)

    # Sketch024 (on Face128 of Pocket011) → Pocket012 (cut)
    with BuildSketch(Plane(origin=(0, 0, 4), x_dir=(0, -1, 0), z_dir=(0, 0, 1))):
        Polygon((122.4094010768, 50), (150.007404666, 10), (150.007404666, 120), (122.4094010768, 80), align=None)
    extrude(amount=-POCKET012_DEPTH, mode=Mode.SUBTRACT)

    # Sketch025 (on Face6 of Pocket012) → Pad012 (new body)
    with BuildSketch(Plane(origin=(0, 0, 4), x_dir=(0, -1, 0), z_dir=(0, 0, 1))):
        with Locations((17.3094010768, 31.5)):
            Rectangle(SKETCH025_W, SKETCH025_H)
        with Locations((17.3094010768, 15.5)):
            Rectangle(SKETCH025_W, SKETCH025_H)
    extrude(amount=PAD012_DEPTH)

    # Sketch026 (on Face30 of Pad012) → Pad013 (new body)
    with BuildSketch(Plane.YZ.offset(33.5)):
        with Locations((-17.3094010768, 8.5)):
            Rectangle(SKETCH026_W, SKETCH026_H)
    extrude(amount=PAD013_DEPTH)

    # Sketch027 (on Face27 of Pad013) → Pad014 (new body)
    with BuildSketch(Plane(origin=(13.5, 0, 0), x_dir=(0, 1, 0), z_dir=(-1, 0, 0))):
        with Locations((-17.3094010768, -8.5)):
            Rectangle(SKETCH027_W, SKETCH027_H)
    extrude(amount=PAD014_DEPTH)

    # Sketch028 (on Face6 of Pad014) → Pad015 (new body)
    with BuildSketch(Plane(origin=(0, 0, 4), x_dir=(0, -1, 0), z_dir=(0, 0, 1))):
        Polygon((92.2094010768, 130), (92.2094010768, 97), (110.2094010768, 97), (110.2094010768, 100), (95.2094010768, 100), (95.2094010768, 130), align=None)
    extrude(amount=PAD015_DEPTH)

    # Sketch029 (on Face6 of Pad015) → Pocket013 (cut)
    with BuildSketch(Plane(origin=(0, 0, 4), x_dir=(0, -1, 0), z_dir=(0, 0, 1))):
        with Locations((71.8094010768, 51)):
            Rectangle(SKETCH029_W, SKETCH029_H)
    extrude(amount=POCKET013_DEPTH, mode=Mode.SUBTRACT)

    # Sketch030 (on Face14 of Pocket013) → Pad016 (new body)
    with BuildSketch(Plane(origin=(0, 0, 4), x_dir=(0, -1, 0), z_dir=(0, 0, 1))):
        with Locations((51.3094010768, 85)):
            Circle(SKETCH030_R)
        with Locations((100.3094010768, 85)):
            Circle(SKETCH030_R)
        with Locations((100.3094010768, 27)):
            Circle(SKETCH030_R)
        with Locations((51.3094010768, 27)):
            Circle(SKETCH030_R)
    extrude(amount=PAD016_DEPTH)

    # Sketch031 (on Face141 of Pad016) → Pocket014 (cut, through all)
    with BuildSketch(Plane(origin=(0, 0, 8), x_dir=(0, -1, 0), z_dir=(0, 0, 1))):
        with Locations((51.3094010768, 85)):
            Circle(SKETCH031_R)
        with Locations((100.3094010768, 85)):
            Circle(SKETCH031_R)
        with Locations((100.3094010768, 27)):
            Circle(SKETCH031_R)
        with Locations((51.3094010768, 27)):
            Circle(SKETCH031_R)
    extrude(amount=-POCKET014_DEPTH, mode=Mode.SUBTRACT)


solid = part.part
